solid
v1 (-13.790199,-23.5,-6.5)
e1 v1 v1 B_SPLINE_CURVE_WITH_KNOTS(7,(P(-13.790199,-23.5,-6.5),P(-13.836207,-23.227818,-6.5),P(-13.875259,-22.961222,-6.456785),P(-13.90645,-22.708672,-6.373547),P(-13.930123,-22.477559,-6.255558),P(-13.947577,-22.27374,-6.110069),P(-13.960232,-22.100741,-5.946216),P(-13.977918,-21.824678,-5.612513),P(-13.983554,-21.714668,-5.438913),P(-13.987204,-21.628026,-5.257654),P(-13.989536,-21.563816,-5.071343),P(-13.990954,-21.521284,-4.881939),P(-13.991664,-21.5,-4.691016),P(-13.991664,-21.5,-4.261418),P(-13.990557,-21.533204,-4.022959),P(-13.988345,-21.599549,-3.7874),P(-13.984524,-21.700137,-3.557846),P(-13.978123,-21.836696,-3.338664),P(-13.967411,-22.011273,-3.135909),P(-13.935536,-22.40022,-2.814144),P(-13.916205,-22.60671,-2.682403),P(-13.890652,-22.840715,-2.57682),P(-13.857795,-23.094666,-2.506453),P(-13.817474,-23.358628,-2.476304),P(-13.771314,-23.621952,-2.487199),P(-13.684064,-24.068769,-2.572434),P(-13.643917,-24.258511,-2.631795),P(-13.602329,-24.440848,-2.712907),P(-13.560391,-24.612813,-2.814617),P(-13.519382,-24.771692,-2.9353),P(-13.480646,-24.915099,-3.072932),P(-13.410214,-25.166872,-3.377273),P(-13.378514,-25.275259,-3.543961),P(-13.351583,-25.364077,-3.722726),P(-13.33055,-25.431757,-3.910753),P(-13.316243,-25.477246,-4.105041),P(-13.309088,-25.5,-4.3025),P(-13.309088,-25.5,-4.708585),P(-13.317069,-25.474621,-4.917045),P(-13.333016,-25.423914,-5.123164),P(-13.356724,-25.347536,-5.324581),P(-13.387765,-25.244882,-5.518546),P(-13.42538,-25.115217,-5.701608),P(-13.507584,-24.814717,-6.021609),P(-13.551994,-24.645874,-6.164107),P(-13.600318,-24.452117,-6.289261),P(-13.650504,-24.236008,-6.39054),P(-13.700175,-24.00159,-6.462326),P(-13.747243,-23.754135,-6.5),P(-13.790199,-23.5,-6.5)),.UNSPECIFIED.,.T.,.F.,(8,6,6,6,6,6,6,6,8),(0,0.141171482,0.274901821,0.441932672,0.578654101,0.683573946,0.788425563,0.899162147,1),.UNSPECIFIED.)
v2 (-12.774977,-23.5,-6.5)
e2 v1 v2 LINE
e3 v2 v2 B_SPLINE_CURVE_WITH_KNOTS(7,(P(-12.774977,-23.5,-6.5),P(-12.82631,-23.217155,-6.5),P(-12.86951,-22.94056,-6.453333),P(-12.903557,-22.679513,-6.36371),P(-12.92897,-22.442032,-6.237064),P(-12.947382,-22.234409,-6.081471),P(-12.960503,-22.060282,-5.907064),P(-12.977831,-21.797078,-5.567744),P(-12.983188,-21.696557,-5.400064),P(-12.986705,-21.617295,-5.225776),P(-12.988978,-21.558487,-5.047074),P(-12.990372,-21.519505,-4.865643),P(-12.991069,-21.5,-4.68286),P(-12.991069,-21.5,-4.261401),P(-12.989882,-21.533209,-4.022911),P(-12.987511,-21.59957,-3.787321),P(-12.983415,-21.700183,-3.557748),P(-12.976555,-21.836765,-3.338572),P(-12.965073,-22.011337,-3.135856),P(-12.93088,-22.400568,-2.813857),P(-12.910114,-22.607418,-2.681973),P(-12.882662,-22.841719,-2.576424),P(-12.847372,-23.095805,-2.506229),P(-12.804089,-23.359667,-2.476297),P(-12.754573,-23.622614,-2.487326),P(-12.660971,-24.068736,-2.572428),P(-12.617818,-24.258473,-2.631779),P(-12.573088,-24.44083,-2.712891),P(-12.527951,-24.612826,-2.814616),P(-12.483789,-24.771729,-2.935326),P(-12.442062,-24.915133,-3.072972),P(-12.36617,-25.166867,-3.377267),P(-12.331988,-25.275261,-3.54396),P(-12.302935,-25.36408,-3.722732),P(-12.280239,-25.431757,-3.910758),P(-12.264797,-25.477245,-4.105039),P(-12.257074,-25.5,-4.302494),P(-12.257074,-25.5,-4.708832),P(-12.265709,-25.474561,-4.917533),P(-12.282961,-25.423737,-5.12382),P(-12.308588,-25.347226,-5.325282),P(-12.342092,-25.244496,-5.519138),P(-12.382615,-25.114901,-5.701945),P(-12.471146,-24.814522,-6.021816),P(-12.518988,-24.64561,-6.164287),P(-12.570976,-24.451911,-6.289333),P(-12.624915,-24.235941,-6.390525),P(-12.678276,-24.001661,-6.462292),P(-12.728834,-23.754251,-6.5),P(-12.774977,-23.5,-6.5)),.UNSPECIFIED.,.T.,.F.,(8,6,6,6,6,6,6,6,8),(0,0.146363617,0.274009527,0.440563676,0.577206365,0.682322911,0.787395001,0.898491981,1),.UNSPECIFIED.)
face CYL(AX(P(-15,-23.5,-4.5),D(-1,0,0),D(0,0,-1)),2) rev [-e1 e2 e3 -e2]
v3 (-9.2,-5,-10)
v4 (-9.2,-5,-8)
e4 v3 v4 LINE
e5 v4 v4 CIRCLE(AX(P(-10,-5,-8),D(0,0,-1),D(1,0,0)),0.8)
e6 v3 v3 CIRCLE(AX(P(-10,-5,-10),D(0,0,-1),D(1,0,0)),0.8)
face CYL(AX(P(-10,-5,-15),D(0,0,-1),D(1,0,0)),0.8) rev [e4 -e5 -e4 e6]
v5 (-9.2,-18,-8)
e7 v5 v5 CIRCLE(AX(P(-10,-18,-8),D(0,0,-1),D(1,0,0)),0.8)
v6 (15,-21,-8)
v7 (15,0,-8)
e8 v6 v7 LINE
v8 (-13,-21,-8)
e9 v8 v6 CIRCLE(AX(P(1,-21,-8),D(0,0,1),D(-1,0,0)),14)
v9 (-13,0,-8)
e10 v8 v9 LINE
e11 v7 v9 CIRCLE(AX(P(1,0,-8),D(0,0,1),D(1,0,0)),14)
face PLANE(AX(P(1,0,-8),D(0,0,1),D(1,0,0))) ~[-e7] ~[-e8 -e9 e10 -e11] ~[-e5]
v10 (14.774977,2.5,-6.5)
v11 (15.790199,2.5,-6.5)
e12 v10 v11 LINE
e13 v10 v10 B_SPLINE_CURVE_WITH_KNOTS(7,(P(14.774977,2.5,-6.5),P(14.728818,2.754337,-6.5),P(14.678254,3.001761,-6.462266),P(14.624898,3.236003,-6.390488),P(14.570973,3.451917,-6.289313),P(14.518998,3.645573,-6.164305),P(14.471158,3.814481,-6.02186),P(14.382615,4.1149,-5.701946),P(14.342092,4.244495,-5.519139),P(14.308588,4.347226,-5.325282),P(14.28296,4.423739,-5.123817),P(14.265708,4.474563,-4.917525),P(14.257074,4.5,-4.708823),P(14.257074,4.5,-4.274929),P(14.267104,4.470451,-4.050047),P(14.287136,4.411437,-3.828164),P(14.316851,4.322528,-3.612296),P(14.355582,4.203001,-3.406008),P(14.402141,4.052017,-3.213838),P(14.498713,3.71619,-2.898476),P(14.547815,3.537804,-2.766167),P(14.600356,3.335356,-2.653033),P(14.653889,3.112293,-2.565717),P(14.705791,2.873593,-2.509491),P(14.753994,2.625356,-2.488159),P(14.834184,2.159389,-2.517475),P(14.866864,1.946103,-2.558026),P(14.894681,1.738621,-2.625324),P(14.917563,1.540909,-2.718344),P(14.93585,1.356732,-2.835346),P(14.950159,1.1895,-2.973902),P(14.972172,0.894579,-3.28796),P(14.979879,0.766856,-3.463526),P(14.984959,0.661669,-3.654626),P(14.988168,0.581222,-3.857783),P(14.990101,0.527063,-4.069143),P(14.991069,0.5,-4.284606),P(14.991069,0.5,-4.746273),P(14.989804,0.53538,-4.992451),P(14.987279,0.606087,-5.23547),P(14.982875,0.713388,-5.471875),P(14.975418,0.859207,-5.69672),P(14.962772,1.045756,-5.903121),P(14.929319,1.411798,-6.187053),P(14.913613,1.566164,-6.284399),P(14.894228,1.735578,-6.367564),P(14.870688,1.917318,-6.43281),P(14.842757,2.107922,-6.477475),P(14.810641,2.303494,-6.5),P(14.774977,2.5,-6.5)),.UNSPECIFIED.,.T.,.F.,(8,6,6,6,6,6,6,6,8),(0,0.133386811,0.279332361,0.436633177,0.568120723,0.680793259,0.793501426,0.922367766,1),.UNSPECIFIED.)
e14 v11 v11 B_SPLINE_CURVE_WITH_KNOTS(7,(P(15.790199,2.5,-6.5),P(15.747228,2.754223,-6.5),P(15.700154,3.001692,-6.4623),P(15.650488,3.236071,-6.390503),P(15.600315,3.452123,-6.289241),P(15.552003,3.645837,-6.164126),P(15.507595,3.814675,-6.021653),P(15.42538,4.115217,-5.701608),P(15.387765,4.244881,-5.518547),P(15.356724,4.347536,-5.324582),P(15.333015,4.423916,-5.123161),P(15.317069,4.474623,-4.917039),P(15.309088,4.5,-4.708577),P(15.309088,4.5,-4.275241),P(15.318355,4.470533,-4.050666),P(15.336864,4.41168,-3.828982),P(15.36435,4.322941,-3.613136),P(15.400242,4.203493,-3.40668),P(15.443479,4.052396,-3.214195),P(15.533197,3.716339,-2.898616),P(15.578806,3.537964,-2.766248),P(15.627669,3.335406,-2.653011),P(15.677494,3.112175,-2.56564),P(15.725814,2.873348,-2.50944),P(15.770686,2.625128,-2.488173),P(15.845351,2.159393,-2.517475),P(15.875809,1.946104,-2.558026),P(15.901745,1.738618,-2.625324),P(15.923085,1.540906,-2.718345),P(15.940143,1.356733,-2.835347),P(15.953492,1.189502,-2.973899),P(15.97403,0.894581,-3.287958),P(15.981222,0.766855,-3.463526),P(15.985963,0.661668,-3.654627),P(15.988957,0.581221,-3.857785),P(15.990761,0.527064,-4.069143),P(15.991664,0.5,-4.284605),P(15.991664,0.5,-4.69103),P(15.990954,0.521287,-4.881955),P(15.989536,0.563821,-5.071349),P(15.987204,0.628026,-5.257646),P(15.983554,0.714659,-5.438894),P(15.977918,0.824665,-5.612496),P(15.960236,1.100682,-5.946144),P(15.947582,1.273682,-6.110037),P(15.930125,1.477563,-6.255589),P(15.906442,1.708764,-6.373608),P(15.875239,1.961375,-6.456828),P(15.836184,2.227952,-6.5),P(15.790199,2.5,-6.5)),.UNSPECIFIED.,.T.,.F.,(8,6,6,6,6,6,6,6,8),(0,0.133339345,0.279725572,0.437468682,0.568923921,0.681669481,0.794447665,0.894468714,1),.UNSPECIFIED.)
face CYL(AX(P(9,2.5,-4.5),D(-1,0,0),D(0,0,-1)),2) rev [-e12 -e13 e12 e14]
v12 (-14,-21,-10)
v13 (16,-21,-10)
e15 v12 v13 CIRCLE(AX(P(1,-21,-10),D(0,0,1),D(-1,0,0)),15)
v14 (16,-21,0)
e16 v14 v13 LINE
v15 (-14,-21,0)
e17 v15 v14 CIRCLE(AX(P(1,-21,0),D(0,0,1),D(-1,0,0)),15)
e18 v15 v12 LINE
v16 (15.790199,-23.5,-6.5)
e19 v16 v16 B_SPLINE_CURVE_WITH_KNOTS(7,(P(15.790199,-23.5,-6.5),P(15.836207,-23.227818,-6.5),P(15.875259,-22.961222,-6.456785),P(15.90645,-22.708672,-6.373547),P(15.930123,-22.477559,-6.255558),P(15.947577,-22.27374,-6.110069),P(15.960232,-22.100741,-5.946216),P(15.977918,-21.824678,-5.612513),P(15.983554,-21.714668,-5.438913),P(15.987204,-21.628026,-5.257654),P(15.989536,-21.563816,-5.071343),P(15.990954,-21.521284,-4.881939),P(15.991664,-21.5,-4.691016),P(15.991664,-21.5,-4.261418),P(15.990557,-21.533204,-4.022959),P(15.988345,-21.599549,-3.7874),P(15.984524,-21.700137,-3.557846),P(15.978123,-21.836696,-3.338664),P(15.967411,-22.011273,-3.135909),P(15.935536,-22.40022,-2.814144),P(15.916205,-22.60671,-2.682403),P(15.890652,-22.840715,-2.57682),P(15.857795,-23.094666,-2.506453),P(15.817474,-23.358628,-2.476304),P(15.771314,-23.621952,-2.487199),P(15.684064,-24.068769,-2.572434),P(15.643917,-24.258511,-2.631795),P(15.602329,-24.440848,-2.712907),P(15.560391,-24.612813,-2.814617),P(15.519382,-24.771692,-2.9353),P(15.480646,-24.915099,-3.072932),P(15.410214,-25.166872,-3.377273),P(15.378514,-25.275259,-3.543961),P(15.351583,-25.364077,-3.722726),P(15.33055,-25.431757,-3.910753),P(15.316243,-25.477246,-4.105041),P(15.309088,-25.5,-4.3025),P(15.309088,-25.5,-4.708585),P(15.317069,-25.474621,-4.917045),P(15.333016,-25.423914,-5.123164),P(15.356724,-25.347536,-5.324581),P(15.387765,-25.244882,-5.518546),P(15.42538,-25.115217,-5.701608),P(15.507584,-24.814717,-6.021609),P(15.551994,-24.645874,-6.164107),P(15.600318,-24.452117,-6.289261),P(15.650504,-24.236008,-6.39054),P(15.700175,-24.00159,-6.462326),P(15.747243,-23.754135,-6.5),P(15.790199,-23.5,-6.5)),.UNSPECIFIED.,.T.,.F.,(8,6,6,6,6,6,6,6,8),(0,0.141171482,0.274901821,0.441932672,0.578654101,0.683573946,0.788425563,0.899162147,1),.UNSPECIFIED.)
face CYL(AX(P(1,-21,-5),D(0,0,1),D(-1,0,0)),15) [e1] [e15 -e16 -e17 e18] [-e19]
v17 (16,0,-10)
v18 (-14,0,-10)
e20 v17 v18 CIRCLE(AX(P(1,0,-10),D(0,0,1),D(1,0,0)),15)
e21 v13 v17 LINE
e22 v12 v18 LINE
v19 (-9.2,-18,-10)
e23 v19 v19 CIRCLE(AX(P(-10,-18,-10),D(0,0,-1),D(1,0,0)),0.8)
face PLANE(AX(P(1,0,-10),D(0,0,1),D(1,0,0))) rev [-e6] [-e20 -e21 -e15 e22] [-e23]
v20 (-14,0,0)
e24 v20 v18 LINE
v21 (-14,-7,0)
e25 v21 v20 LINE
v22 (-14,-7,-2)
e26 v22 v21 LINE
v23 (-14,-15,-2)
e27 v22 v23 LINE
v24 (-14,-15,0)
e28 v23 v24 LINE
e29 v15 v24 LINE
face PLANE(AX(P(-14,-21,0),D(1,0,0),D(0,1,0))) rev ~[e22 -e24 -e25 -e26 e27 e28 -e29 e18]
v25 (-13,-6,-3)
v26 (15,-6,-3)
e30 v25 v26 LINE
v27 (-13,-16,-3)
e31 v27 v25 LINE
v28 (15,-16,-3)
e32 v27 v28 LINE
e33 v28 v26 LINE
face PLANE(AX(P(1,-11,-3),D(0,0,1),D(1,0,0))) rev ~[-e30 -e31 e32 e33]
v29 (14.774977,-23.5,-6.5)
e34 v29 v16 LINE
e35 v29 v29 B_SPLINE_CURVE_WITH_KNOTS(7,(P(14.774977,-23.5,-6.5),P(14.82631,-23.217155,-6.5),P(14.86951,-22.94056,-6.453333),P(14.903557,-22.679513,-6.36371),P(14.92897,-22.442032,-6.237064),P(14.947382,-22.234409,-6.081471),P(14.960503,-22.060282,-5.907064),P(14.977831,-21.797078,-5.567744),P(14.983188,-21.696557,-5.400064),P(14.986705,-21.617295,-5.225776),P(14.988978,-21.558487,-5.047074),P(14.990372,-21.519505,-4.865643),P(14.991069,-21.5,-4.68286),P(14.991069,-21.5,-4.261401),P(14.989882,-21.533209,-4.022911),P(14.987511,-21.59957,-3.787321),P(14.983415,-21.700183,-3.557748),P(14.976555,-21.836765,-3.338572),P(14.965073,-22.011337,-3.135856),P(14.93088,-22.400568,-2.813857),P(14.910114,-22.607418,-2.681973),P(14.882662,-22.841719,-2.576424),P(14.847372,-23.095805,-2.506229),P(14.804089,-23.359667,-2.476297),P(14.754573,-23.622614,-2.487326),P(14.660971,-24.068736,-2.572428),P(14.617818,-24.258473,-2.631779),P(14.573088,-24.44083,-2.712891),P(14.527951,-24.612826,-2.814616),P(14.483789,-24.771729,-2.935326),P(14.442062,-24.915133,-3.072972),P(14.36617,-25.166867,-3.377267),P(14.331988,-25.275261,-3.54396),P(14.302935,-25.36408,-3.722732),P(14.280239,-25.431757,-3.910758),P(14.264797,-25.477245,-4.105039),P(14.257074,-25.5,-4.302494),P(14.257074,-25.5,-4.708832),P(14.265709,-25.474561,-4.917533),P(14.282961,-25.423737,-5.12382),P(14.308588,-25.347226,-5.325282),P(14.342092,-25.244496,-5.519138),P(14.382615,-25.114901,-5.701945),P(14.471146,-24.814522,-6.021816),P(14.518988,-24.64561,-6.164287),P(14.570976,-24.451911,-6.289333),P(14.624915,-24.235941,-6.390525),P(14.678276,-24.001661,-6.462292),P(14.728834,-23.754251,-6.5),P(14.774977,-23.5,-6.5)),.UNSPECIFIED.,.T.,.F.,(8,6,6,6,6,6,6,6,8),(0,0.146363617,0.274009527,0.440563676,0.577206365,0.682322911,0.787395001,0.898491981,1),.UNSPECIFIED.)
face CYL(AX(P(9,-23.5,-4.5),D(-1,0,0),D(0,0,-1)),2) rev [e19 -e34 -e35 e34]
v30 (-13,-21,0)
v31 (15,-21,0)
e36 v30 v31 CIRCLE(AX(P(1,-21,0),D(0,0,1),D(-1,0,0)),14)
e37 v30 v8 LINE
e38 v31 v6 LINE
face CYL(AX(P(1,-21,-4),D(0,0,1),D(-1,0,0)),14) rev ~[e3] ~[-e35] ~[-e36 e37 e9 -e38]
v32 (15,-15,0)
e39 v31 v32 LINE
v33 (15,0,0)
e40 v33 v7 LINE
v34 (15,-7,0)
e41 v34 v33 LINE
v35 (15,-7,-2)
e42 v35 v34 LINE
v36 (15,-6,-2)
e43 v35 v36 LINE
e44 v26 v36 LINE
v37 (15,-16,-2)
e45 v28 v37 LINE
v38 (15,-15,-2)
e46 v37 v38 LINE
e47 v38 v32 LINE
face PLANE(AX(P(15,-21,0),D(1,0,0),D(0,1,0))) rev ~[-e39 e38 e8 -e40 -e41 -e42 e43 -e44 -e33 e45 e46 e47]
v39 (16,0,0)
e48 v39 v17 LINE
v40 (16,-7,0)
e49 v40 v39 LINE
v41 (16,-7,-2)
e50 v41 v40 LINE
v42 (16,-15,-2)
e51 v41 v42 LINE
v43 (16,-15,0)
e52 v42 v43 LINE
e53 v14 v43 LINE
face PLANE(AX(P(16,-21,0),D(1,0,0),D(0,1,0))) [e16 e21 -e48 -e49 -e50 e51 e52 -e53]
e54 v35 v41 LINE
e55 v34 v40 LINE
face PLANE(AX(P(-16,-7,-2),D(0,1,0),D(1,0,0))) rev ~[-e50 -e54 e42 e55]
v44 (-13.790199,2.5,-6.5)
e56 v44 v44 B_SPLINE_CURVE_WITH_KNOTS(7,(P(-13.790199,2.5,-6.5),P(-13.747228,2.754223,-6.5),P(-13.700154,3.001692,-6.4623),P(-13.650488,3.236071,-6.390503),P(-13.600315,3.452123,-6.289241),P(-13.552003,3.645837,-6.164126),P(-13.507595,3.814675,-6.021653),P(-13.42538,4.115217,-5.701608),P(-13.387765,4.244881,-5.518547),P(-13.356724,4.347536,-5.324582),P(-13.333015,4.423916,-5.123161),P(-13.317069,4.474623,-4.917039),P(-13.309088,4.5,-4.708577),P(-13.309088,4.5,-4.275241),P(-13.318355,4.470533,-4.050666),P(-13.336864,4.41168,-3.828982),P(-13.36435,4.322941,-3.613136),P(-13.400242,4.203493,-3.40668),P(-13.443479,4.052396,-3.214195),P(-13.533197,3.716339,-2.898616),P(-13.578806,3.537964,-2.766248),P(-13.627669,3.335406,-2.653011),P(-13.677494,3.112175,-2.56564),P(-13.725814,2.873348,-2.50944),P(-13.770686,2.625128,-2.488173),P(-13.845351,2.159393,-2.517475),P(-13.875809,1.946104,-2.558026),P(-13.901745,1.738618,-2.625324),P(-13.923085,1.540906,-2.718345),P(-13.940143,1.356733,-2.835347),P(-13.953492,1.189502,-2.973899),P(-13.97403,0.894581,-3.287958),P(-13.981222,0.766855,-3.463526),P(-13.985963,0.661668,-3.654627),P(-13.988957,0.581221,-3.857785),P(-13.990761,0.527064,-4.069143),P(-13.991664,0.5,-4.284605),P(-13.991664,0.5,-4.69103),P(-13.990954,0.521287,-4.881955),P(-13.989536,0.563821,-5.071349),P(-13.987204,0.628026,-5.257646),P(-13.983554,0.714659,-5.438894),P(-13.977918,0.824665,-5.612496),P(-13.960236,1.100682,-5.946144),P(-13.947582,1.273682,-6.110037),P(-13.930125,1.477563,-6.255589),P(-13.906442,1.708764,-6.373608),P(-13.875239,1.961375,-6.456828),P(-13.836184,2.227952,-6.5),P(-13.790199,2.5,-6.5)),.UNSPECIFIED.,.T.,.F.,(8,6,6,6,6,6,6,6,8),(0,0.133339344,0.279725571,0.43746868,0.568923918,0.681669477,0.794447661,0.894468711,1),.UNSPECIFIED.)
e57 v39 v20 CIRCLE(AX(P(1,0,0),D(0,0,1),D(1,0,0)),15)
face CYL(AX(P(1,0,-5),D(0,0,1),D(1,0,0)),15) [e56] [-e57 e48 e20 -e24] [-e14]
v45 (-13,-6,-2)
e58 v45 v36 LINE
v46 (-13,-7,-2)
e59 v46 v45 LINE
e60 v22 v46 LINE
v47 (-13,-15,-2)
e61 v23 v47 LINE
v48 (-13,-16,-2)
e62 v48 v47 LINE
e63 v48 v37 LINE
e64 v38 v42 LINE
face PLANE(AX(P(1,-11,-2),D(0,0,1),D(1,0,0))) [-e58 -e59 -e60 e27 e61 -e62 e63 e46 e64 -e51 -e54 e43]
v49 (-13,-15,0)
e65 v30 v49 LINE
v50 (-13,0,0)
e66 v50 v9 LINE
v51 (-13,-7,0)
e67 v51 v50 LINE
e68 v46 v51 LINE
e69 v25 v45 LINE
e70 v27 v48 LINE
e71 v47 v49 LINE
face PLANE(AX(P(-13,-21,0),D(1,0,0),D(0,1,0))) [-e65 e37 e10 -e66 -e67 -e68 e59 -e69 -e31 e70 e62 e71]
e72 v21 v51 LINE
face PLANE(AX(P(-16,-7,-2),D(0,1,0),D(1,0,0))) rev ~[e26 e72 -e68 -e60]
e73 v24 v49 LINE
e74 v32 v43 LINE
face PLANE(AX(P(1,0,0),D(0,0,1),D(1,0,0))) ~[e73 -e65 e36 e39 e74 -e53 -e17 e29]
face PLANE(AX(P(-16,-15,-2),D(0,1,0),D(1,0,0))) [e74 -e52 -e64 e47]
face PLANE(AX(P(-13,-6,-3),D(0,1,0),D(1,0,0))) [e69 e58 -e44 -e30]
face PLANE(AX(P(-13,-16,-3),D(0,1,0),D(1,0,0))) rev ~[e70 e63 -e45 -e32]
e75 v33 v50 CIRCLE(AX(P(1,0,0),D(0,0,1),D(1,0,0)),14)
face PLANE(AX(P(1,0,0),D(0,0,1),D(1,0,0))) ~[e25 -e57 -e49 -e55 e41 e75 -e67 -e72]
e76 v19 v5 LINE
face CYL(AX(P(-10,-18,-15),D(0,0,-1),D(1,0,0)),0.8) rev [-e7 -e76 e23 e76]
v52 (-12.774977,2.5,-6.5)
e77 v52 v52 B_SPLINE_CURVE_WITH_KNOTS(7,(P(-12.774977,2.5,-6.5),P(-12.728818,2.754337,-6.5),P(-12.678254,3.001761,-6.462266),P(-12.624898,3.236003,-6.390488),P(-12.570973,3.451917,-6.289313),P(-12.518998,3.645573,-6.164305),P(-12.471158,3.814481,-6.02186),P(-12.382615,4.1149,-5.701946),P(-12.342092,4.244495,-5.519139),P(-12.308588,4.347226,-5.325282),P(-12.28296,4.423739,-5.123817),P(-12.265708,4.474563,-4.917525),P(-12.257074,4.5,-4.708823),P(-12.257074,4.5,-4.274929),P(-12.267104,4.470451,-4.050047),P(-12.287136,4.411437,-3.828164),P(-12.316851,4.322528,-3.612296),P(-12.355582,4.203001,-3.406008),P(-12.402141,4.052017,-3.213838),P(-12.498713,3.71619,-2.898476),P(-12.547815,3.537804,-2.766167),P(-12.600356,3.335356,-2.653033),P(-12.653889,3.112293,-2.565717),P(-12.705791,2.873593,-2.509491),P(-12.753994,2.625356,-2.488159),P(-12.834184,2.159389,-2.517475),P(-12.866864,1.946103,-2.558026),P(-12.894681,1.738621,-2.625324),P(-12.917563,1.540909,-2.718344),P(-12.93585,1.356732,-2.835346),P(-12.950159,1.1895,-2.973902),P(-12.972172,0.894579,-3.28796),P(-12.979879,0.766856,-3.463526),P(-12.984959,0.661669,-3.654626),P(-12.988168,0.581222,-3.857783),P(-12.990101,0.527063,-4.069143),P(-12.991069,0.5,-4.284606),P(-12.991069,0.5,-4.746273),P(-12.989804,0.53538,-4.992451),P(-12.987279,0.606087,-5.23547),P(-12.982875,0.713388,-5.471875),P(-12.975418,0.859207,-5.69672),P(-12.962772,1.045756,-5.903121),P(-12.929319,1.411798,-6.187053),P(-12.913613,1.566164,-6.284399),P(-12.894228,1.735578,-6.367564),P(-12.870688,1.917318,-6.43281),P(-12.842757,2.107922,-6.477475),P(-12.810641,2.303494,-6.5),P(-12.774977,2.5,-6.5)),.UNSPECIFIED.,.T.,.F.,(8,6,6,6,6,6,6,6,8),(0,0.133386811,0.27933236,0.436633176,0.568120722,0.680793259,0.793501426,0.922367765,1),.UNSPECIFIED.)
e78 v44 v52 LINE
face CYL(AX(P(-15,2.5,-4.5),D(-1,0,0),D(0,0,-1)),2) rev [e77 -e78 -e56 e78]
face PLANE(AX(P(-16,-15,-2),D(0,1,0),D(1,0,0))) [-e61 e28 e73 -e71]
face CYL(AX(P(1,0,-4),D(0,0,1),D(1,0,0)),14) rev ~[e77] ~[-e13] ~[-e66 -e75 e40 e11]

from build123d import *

# Parameters (mm, degrees)
CYLINDER049_R           = 0.8
CYLINDER049_DEPTH       = 10
CYLINDER048_R           = 0.8
CYLINDER048_DEPTH       = 10
BOX013_W                = 28
BOX013_H                = 10
BOX013_DEPTH            = 2
BOX011_W                = 28
BOX011_H                = 10
BOX011_DEPTH            = 3
CYLINDER029_R           = 2
CYLINDER029_DEPTH       = 10
CYLINDER029_PITCH_ANGLE = 90
CYLINDER031_R           = 2
CYLINDER031_DEPTH       = 10
CYLINDER031_PITCH_ANGLE = 90
CYLINDER030_R           = 2
CYLINDER030_DEPTH       = 10
CYLINDER030_PITCH_ANGLE = 90
CYLINDER028_R           = 2
CYLINDER028_DEPTH       = 10
CYLINDER028_PITCH_ANGLE = 90
BOX012_W                = 33
BOX012_H                = 8
BOX012_DEPTH            = 2
CYLINDER002_W           = 14
CYLINDER002_H           = 8
CYLINDER002_ANGLE       = 180
CYLINDER001_W           = 15
CYLINDER001_H           = 10
CYLINDER001_ANGLE       = 180
CYLINDER003_W           = 14
CYLINDER003_H           = 8
CYLINDER003_ANGLE       = 180
CYLINDER_W              = 15
CYLINDER_H              = 10
CYLINDER_ANGLE          = 180
BOX001_W                = 28
BOX001_H                = 21
BOX001_DEPTH            = 8
BOX_W                   = 30
BOX_H                   = 21
BOX_DEPTH               = 10
FUSION_PLACEMENT_ANGLE  = 180


with BuildPart() as cilindro049:
    # Cylinder049 → Cylinder049 (new body)
    with BuildSketch(Plane(origin=(-10, -18, -15), x_dir=(1, 0, 0), z_dir=(0, 0, 1))):
        Circle(CYLINDER049_R)
    extrude(amount=CYLINDER049_DEPTH)


with BuildPart() as cilindro048:
    # Cylinder048 → Cylinder048 (new body)
    with BuildSketch(Plane(origin=(-10, -5, -15), x_dir=(1, 0, 0), z_dir=(0, 0, 1))):
        Circle(CYLINDER048_R)
    extrude(amount=CYLINDER048_DEPTH)


with BuildPart() as cubo013:
    # Box013 → Box013 (new body)
    with BuildSketch(Plane(origin=(-27, 54, 42), x_dir=(1, 0, 0), z_dir=(0, 0, 1))):
        with Locations((14, 5)):
            Rectangle(BOX013_W, BOX013_H)
    extrude(amount=BOX013_DEPTH)


with BuildPart() as cut004:
    # Box011 → Box011 (new body)
    with BuildSketch(Plane(origin=(-27, 54, 41), x_dir=(1, 0, 0), z_dir=(0, 0, 1))):
        with Locations((14, 5)):
            Rectangle(BOX011_W, BOX011_H)
    extrude(amount=BOX011_DEPTH)

    # Cut004: cut Cubo013
    add(cubo013.part, mode=Mode.SUBTRACT)


with BuildPart() as cilindro029:
    # Cylinder029 → Cylinder029 (new body)
    with BuildSketch(Plane.XY):
        Circle(CYLINDER029_R)
    extrude(amount=CYLINDER029_DEPTH)


with BuildPart() as cilindro029_1:
    # Cylinder029 pitch: moved
    add(cilindro029.part.rotate(Axis((0, 0, 0), (0, 1, 0)), CYLINDER029_PITCH_ANGLE))


with BuildPart() as cilindro029_2:
    # Cylinder029 placement: moved
    add(cilindro029_1.part.moved(Location((-29, 46.5, 39.5))))


with BuildPart() as cilindro031:
    # Cylinder031 → Cylinder031 (new body)
    with BuildSketch(Plane.XY):
        Circle(CYLINDER031_R)
    extrude(amount=CYLINDER031_DEPTH)


with BuildPart() as cilindro031_1:
    # Cylinder031 pitch: moved
    add(cilindro031.part.rotate(Axis((0, 0, 0), (0, 1, 0)), CYLINDER031_PITCH_ANGLE))


with BuildPart() as cilindro031_2:
    # Cylinder031 placement: moved
    add(cilindro031_1.part.moved(Location((-5, 72.5, 39.5))))


with BuildPart() as cilindro030:
    # Cylinder030 → Cylinder030 (new body)
    with BuildSketch(Plane.XY):
        Circle(CYLINDER030_R)
    extrude(amount=CYLINDER030_DEPTH)


with BuildPart() as cilindro030_1:
    # Cylinder030 pitch: moved
    add(cilindro030.part.rotate(Axis((0, 0, 0), (0, 1, 0)), CYLINDER030_PITCH_ANGLE))


with BuildPart() as cilindro030_2:
    # Cylinder030 placement: moved
    add(cilindro030_1.part.moved(Location((-5, 46.5, 39.5))))


with BuildPart() as cilindro028:
    # Cylinder028 → Cylinder028 (new body)
    with BuildSketch(Plane.XY):
        Circle(CYLINDER028_R)
    extrude(amount=CYLINDER028_DEPTH)


with BuildPart() as cilindro028_1:
    # Cylinder028 pitch: moved
    add(cilindro028.part.rotate(Axis((0, 0, 0), (0, 1, 0)), CYLINDER028_PITCH_ANGLE))


with BuildPart() as cilindro028_2:
    # Cylinder028 placement: moved
    add(cilindro028_1.part.moved(Location((-29, 72.5, 39.5))))


with BuildPart() as cubo012:
    # Box012 → Box012 (new body)
    with BuildSketch(Plane(origin=(-30, 55, 42), x_dir=(1, 0, 0), z_dir=(0, 0, 1))):
        with Locations((16.5, 4)):
            Rectangle(BOX012_W, BOX012_H)
    extrude(amount=BOX012_DEPTH)


with BuildPart() as cilindro002:
    # Cylinder002 → Cylinder002 (revolve)
    with BuildSketch(Plane(origin=(16, 49, -36), x_dir=(1, 0, 0), z_dir=(0, 1, 0))):
        with Locations((7, 4)):
            Rectangle(CYLINDER002_W, CYLINDER002_H)
    revolve(axis=Axis((16, 49, -36), (0, 0, -1)), revolution_arc=CYLINDER002_ANGLE)


with BuildPart() as cut001:
    # Cylinder001 → Cylinder001 (revolve)
    with BuildSketch(Plane(origin=(16, 49, -34), x_dir=(1, 0, 0), z_dir=(0, 1, 0))):
        with Locations((7.5, 5)):
            Rectangle(CYLINDER001_W, CYLINDER001_H)
    revolve(axis=Axis((16, 49, -34), (0, 0, -1)), revolution_arc=CYLINDER001_ANGLE)

    # Cut001: cut Cilindro002
    add(cilindro002.part, mode=Mode.SUBTRACT)


with BuildPart() as cut001_1:
    # Cut001 placement: moved
    add(cut001.part.moved(Location((-3, 0, 0))))


with BuildPart() as cilindro003:
    # Cylinder003 → Cylinder003 (revolve)
    with BuildSketch(Plane(origin=(13, 70, -36), x_dir=(-1, 0, 0), z_dir=(0, -1, 0))):
        with Locations((7, 4)):
            Rectangle(CYLINDER003_W, CYLINDER003_H)
    revolve(axis=Axis((13, 70, -36), (0, 0, -1)), revolution_arc=CYLINDER003_ANGLE)


with BuildPart() as cut002:
    # Cylinder → Cylinder (revolve)
    with BuildSketch(Plane(origin=(13, 70, -34), x_dir=(-1, 0, 0), z_dir=(0, -1, 0))):
        with Locations((7.5, 5)):
            Rectangle(CYLINDER_W, CYLINDER_H)
    revolve(axis=Axis((13, 70, -34), (0, 0, -1)), revolution_arc=CYLINDER_ANGLE)

    # Cut002: cut Cilindro003
    add(cilindro003.part, mode=Mode.SUBTRACT)


with BuildPart() as cubo001:
    # Box001 → Box001 (new body)
    with BuildSketch(Plane(origin=(-1, 49, -44), x_dir=(1, 0, 0), z_dir=(0, 0, 1))):
        with Locations((14, 10.5)):
            Rectangle(BOX001_W, BOX001_H)
    extrude(amount=BOX001_DEPTH)


with BuildPart() as cut068:
    # Box → Box (new body)
    with BuildSketch(Plane(origin=(-2, 49, -44), x_dir=(1, 0, 0), z_dir=(0, 0, 1))):
        with Locations((15, 10.5)):
            Rectangle(BOX_W, BOX_H)
    extrude(amount=BOX_DEPTH)

    # Cut: cut Cubo001
    add(cubo001.part, mode=Mode.SUBTRACT)

    # Fusion: union Cut001, Cut002
    add(cut001_1.part)
    add(cut002.part)


with BuildPart() as cut068_1:
    # Fusion placement: moved
    add(cut068.part.rotate(Axis((0, 0, 0), (0, 1, 0)), FUSION_PLACEMENT_ANGLE))

    # Cut003: cut Cubo012
    add(cubo012.part, mode=Mode.SUBTRACT)

    # Cut040: cut Cilindro028
    add(cilindro028_2.part, mode=Mode.SUBTRACT)

    # Cut041: cut Cilindro030
    add(cilindro030_2.part, mode=Mode.SUBTRACT)

    # Cut042: cut Cilindro031
    add(cilindro031_2.part, mode=Mode.SUBTRACT)

    # Cut043: cut Cilindro029
    add(cilindro029_2.part, mode=Mode.SUBTRACT)

    # Fusion002019: union Cut004
    add(cut004.part)


with BuildPart() as cut068_2:
    # Fusion002019 placement: moved
    add(cut068_1.part.moved(Location((14, -70, -44))))

    # Cut067: cut Cilindro048
    add(cilindro048.part, mode=Mode.SUBTRACT)

    # Cut068: cut Cilindro049
    add(cilindro049.part, mode=Mode.SUBTRACT)


solid = cut068_2.part
